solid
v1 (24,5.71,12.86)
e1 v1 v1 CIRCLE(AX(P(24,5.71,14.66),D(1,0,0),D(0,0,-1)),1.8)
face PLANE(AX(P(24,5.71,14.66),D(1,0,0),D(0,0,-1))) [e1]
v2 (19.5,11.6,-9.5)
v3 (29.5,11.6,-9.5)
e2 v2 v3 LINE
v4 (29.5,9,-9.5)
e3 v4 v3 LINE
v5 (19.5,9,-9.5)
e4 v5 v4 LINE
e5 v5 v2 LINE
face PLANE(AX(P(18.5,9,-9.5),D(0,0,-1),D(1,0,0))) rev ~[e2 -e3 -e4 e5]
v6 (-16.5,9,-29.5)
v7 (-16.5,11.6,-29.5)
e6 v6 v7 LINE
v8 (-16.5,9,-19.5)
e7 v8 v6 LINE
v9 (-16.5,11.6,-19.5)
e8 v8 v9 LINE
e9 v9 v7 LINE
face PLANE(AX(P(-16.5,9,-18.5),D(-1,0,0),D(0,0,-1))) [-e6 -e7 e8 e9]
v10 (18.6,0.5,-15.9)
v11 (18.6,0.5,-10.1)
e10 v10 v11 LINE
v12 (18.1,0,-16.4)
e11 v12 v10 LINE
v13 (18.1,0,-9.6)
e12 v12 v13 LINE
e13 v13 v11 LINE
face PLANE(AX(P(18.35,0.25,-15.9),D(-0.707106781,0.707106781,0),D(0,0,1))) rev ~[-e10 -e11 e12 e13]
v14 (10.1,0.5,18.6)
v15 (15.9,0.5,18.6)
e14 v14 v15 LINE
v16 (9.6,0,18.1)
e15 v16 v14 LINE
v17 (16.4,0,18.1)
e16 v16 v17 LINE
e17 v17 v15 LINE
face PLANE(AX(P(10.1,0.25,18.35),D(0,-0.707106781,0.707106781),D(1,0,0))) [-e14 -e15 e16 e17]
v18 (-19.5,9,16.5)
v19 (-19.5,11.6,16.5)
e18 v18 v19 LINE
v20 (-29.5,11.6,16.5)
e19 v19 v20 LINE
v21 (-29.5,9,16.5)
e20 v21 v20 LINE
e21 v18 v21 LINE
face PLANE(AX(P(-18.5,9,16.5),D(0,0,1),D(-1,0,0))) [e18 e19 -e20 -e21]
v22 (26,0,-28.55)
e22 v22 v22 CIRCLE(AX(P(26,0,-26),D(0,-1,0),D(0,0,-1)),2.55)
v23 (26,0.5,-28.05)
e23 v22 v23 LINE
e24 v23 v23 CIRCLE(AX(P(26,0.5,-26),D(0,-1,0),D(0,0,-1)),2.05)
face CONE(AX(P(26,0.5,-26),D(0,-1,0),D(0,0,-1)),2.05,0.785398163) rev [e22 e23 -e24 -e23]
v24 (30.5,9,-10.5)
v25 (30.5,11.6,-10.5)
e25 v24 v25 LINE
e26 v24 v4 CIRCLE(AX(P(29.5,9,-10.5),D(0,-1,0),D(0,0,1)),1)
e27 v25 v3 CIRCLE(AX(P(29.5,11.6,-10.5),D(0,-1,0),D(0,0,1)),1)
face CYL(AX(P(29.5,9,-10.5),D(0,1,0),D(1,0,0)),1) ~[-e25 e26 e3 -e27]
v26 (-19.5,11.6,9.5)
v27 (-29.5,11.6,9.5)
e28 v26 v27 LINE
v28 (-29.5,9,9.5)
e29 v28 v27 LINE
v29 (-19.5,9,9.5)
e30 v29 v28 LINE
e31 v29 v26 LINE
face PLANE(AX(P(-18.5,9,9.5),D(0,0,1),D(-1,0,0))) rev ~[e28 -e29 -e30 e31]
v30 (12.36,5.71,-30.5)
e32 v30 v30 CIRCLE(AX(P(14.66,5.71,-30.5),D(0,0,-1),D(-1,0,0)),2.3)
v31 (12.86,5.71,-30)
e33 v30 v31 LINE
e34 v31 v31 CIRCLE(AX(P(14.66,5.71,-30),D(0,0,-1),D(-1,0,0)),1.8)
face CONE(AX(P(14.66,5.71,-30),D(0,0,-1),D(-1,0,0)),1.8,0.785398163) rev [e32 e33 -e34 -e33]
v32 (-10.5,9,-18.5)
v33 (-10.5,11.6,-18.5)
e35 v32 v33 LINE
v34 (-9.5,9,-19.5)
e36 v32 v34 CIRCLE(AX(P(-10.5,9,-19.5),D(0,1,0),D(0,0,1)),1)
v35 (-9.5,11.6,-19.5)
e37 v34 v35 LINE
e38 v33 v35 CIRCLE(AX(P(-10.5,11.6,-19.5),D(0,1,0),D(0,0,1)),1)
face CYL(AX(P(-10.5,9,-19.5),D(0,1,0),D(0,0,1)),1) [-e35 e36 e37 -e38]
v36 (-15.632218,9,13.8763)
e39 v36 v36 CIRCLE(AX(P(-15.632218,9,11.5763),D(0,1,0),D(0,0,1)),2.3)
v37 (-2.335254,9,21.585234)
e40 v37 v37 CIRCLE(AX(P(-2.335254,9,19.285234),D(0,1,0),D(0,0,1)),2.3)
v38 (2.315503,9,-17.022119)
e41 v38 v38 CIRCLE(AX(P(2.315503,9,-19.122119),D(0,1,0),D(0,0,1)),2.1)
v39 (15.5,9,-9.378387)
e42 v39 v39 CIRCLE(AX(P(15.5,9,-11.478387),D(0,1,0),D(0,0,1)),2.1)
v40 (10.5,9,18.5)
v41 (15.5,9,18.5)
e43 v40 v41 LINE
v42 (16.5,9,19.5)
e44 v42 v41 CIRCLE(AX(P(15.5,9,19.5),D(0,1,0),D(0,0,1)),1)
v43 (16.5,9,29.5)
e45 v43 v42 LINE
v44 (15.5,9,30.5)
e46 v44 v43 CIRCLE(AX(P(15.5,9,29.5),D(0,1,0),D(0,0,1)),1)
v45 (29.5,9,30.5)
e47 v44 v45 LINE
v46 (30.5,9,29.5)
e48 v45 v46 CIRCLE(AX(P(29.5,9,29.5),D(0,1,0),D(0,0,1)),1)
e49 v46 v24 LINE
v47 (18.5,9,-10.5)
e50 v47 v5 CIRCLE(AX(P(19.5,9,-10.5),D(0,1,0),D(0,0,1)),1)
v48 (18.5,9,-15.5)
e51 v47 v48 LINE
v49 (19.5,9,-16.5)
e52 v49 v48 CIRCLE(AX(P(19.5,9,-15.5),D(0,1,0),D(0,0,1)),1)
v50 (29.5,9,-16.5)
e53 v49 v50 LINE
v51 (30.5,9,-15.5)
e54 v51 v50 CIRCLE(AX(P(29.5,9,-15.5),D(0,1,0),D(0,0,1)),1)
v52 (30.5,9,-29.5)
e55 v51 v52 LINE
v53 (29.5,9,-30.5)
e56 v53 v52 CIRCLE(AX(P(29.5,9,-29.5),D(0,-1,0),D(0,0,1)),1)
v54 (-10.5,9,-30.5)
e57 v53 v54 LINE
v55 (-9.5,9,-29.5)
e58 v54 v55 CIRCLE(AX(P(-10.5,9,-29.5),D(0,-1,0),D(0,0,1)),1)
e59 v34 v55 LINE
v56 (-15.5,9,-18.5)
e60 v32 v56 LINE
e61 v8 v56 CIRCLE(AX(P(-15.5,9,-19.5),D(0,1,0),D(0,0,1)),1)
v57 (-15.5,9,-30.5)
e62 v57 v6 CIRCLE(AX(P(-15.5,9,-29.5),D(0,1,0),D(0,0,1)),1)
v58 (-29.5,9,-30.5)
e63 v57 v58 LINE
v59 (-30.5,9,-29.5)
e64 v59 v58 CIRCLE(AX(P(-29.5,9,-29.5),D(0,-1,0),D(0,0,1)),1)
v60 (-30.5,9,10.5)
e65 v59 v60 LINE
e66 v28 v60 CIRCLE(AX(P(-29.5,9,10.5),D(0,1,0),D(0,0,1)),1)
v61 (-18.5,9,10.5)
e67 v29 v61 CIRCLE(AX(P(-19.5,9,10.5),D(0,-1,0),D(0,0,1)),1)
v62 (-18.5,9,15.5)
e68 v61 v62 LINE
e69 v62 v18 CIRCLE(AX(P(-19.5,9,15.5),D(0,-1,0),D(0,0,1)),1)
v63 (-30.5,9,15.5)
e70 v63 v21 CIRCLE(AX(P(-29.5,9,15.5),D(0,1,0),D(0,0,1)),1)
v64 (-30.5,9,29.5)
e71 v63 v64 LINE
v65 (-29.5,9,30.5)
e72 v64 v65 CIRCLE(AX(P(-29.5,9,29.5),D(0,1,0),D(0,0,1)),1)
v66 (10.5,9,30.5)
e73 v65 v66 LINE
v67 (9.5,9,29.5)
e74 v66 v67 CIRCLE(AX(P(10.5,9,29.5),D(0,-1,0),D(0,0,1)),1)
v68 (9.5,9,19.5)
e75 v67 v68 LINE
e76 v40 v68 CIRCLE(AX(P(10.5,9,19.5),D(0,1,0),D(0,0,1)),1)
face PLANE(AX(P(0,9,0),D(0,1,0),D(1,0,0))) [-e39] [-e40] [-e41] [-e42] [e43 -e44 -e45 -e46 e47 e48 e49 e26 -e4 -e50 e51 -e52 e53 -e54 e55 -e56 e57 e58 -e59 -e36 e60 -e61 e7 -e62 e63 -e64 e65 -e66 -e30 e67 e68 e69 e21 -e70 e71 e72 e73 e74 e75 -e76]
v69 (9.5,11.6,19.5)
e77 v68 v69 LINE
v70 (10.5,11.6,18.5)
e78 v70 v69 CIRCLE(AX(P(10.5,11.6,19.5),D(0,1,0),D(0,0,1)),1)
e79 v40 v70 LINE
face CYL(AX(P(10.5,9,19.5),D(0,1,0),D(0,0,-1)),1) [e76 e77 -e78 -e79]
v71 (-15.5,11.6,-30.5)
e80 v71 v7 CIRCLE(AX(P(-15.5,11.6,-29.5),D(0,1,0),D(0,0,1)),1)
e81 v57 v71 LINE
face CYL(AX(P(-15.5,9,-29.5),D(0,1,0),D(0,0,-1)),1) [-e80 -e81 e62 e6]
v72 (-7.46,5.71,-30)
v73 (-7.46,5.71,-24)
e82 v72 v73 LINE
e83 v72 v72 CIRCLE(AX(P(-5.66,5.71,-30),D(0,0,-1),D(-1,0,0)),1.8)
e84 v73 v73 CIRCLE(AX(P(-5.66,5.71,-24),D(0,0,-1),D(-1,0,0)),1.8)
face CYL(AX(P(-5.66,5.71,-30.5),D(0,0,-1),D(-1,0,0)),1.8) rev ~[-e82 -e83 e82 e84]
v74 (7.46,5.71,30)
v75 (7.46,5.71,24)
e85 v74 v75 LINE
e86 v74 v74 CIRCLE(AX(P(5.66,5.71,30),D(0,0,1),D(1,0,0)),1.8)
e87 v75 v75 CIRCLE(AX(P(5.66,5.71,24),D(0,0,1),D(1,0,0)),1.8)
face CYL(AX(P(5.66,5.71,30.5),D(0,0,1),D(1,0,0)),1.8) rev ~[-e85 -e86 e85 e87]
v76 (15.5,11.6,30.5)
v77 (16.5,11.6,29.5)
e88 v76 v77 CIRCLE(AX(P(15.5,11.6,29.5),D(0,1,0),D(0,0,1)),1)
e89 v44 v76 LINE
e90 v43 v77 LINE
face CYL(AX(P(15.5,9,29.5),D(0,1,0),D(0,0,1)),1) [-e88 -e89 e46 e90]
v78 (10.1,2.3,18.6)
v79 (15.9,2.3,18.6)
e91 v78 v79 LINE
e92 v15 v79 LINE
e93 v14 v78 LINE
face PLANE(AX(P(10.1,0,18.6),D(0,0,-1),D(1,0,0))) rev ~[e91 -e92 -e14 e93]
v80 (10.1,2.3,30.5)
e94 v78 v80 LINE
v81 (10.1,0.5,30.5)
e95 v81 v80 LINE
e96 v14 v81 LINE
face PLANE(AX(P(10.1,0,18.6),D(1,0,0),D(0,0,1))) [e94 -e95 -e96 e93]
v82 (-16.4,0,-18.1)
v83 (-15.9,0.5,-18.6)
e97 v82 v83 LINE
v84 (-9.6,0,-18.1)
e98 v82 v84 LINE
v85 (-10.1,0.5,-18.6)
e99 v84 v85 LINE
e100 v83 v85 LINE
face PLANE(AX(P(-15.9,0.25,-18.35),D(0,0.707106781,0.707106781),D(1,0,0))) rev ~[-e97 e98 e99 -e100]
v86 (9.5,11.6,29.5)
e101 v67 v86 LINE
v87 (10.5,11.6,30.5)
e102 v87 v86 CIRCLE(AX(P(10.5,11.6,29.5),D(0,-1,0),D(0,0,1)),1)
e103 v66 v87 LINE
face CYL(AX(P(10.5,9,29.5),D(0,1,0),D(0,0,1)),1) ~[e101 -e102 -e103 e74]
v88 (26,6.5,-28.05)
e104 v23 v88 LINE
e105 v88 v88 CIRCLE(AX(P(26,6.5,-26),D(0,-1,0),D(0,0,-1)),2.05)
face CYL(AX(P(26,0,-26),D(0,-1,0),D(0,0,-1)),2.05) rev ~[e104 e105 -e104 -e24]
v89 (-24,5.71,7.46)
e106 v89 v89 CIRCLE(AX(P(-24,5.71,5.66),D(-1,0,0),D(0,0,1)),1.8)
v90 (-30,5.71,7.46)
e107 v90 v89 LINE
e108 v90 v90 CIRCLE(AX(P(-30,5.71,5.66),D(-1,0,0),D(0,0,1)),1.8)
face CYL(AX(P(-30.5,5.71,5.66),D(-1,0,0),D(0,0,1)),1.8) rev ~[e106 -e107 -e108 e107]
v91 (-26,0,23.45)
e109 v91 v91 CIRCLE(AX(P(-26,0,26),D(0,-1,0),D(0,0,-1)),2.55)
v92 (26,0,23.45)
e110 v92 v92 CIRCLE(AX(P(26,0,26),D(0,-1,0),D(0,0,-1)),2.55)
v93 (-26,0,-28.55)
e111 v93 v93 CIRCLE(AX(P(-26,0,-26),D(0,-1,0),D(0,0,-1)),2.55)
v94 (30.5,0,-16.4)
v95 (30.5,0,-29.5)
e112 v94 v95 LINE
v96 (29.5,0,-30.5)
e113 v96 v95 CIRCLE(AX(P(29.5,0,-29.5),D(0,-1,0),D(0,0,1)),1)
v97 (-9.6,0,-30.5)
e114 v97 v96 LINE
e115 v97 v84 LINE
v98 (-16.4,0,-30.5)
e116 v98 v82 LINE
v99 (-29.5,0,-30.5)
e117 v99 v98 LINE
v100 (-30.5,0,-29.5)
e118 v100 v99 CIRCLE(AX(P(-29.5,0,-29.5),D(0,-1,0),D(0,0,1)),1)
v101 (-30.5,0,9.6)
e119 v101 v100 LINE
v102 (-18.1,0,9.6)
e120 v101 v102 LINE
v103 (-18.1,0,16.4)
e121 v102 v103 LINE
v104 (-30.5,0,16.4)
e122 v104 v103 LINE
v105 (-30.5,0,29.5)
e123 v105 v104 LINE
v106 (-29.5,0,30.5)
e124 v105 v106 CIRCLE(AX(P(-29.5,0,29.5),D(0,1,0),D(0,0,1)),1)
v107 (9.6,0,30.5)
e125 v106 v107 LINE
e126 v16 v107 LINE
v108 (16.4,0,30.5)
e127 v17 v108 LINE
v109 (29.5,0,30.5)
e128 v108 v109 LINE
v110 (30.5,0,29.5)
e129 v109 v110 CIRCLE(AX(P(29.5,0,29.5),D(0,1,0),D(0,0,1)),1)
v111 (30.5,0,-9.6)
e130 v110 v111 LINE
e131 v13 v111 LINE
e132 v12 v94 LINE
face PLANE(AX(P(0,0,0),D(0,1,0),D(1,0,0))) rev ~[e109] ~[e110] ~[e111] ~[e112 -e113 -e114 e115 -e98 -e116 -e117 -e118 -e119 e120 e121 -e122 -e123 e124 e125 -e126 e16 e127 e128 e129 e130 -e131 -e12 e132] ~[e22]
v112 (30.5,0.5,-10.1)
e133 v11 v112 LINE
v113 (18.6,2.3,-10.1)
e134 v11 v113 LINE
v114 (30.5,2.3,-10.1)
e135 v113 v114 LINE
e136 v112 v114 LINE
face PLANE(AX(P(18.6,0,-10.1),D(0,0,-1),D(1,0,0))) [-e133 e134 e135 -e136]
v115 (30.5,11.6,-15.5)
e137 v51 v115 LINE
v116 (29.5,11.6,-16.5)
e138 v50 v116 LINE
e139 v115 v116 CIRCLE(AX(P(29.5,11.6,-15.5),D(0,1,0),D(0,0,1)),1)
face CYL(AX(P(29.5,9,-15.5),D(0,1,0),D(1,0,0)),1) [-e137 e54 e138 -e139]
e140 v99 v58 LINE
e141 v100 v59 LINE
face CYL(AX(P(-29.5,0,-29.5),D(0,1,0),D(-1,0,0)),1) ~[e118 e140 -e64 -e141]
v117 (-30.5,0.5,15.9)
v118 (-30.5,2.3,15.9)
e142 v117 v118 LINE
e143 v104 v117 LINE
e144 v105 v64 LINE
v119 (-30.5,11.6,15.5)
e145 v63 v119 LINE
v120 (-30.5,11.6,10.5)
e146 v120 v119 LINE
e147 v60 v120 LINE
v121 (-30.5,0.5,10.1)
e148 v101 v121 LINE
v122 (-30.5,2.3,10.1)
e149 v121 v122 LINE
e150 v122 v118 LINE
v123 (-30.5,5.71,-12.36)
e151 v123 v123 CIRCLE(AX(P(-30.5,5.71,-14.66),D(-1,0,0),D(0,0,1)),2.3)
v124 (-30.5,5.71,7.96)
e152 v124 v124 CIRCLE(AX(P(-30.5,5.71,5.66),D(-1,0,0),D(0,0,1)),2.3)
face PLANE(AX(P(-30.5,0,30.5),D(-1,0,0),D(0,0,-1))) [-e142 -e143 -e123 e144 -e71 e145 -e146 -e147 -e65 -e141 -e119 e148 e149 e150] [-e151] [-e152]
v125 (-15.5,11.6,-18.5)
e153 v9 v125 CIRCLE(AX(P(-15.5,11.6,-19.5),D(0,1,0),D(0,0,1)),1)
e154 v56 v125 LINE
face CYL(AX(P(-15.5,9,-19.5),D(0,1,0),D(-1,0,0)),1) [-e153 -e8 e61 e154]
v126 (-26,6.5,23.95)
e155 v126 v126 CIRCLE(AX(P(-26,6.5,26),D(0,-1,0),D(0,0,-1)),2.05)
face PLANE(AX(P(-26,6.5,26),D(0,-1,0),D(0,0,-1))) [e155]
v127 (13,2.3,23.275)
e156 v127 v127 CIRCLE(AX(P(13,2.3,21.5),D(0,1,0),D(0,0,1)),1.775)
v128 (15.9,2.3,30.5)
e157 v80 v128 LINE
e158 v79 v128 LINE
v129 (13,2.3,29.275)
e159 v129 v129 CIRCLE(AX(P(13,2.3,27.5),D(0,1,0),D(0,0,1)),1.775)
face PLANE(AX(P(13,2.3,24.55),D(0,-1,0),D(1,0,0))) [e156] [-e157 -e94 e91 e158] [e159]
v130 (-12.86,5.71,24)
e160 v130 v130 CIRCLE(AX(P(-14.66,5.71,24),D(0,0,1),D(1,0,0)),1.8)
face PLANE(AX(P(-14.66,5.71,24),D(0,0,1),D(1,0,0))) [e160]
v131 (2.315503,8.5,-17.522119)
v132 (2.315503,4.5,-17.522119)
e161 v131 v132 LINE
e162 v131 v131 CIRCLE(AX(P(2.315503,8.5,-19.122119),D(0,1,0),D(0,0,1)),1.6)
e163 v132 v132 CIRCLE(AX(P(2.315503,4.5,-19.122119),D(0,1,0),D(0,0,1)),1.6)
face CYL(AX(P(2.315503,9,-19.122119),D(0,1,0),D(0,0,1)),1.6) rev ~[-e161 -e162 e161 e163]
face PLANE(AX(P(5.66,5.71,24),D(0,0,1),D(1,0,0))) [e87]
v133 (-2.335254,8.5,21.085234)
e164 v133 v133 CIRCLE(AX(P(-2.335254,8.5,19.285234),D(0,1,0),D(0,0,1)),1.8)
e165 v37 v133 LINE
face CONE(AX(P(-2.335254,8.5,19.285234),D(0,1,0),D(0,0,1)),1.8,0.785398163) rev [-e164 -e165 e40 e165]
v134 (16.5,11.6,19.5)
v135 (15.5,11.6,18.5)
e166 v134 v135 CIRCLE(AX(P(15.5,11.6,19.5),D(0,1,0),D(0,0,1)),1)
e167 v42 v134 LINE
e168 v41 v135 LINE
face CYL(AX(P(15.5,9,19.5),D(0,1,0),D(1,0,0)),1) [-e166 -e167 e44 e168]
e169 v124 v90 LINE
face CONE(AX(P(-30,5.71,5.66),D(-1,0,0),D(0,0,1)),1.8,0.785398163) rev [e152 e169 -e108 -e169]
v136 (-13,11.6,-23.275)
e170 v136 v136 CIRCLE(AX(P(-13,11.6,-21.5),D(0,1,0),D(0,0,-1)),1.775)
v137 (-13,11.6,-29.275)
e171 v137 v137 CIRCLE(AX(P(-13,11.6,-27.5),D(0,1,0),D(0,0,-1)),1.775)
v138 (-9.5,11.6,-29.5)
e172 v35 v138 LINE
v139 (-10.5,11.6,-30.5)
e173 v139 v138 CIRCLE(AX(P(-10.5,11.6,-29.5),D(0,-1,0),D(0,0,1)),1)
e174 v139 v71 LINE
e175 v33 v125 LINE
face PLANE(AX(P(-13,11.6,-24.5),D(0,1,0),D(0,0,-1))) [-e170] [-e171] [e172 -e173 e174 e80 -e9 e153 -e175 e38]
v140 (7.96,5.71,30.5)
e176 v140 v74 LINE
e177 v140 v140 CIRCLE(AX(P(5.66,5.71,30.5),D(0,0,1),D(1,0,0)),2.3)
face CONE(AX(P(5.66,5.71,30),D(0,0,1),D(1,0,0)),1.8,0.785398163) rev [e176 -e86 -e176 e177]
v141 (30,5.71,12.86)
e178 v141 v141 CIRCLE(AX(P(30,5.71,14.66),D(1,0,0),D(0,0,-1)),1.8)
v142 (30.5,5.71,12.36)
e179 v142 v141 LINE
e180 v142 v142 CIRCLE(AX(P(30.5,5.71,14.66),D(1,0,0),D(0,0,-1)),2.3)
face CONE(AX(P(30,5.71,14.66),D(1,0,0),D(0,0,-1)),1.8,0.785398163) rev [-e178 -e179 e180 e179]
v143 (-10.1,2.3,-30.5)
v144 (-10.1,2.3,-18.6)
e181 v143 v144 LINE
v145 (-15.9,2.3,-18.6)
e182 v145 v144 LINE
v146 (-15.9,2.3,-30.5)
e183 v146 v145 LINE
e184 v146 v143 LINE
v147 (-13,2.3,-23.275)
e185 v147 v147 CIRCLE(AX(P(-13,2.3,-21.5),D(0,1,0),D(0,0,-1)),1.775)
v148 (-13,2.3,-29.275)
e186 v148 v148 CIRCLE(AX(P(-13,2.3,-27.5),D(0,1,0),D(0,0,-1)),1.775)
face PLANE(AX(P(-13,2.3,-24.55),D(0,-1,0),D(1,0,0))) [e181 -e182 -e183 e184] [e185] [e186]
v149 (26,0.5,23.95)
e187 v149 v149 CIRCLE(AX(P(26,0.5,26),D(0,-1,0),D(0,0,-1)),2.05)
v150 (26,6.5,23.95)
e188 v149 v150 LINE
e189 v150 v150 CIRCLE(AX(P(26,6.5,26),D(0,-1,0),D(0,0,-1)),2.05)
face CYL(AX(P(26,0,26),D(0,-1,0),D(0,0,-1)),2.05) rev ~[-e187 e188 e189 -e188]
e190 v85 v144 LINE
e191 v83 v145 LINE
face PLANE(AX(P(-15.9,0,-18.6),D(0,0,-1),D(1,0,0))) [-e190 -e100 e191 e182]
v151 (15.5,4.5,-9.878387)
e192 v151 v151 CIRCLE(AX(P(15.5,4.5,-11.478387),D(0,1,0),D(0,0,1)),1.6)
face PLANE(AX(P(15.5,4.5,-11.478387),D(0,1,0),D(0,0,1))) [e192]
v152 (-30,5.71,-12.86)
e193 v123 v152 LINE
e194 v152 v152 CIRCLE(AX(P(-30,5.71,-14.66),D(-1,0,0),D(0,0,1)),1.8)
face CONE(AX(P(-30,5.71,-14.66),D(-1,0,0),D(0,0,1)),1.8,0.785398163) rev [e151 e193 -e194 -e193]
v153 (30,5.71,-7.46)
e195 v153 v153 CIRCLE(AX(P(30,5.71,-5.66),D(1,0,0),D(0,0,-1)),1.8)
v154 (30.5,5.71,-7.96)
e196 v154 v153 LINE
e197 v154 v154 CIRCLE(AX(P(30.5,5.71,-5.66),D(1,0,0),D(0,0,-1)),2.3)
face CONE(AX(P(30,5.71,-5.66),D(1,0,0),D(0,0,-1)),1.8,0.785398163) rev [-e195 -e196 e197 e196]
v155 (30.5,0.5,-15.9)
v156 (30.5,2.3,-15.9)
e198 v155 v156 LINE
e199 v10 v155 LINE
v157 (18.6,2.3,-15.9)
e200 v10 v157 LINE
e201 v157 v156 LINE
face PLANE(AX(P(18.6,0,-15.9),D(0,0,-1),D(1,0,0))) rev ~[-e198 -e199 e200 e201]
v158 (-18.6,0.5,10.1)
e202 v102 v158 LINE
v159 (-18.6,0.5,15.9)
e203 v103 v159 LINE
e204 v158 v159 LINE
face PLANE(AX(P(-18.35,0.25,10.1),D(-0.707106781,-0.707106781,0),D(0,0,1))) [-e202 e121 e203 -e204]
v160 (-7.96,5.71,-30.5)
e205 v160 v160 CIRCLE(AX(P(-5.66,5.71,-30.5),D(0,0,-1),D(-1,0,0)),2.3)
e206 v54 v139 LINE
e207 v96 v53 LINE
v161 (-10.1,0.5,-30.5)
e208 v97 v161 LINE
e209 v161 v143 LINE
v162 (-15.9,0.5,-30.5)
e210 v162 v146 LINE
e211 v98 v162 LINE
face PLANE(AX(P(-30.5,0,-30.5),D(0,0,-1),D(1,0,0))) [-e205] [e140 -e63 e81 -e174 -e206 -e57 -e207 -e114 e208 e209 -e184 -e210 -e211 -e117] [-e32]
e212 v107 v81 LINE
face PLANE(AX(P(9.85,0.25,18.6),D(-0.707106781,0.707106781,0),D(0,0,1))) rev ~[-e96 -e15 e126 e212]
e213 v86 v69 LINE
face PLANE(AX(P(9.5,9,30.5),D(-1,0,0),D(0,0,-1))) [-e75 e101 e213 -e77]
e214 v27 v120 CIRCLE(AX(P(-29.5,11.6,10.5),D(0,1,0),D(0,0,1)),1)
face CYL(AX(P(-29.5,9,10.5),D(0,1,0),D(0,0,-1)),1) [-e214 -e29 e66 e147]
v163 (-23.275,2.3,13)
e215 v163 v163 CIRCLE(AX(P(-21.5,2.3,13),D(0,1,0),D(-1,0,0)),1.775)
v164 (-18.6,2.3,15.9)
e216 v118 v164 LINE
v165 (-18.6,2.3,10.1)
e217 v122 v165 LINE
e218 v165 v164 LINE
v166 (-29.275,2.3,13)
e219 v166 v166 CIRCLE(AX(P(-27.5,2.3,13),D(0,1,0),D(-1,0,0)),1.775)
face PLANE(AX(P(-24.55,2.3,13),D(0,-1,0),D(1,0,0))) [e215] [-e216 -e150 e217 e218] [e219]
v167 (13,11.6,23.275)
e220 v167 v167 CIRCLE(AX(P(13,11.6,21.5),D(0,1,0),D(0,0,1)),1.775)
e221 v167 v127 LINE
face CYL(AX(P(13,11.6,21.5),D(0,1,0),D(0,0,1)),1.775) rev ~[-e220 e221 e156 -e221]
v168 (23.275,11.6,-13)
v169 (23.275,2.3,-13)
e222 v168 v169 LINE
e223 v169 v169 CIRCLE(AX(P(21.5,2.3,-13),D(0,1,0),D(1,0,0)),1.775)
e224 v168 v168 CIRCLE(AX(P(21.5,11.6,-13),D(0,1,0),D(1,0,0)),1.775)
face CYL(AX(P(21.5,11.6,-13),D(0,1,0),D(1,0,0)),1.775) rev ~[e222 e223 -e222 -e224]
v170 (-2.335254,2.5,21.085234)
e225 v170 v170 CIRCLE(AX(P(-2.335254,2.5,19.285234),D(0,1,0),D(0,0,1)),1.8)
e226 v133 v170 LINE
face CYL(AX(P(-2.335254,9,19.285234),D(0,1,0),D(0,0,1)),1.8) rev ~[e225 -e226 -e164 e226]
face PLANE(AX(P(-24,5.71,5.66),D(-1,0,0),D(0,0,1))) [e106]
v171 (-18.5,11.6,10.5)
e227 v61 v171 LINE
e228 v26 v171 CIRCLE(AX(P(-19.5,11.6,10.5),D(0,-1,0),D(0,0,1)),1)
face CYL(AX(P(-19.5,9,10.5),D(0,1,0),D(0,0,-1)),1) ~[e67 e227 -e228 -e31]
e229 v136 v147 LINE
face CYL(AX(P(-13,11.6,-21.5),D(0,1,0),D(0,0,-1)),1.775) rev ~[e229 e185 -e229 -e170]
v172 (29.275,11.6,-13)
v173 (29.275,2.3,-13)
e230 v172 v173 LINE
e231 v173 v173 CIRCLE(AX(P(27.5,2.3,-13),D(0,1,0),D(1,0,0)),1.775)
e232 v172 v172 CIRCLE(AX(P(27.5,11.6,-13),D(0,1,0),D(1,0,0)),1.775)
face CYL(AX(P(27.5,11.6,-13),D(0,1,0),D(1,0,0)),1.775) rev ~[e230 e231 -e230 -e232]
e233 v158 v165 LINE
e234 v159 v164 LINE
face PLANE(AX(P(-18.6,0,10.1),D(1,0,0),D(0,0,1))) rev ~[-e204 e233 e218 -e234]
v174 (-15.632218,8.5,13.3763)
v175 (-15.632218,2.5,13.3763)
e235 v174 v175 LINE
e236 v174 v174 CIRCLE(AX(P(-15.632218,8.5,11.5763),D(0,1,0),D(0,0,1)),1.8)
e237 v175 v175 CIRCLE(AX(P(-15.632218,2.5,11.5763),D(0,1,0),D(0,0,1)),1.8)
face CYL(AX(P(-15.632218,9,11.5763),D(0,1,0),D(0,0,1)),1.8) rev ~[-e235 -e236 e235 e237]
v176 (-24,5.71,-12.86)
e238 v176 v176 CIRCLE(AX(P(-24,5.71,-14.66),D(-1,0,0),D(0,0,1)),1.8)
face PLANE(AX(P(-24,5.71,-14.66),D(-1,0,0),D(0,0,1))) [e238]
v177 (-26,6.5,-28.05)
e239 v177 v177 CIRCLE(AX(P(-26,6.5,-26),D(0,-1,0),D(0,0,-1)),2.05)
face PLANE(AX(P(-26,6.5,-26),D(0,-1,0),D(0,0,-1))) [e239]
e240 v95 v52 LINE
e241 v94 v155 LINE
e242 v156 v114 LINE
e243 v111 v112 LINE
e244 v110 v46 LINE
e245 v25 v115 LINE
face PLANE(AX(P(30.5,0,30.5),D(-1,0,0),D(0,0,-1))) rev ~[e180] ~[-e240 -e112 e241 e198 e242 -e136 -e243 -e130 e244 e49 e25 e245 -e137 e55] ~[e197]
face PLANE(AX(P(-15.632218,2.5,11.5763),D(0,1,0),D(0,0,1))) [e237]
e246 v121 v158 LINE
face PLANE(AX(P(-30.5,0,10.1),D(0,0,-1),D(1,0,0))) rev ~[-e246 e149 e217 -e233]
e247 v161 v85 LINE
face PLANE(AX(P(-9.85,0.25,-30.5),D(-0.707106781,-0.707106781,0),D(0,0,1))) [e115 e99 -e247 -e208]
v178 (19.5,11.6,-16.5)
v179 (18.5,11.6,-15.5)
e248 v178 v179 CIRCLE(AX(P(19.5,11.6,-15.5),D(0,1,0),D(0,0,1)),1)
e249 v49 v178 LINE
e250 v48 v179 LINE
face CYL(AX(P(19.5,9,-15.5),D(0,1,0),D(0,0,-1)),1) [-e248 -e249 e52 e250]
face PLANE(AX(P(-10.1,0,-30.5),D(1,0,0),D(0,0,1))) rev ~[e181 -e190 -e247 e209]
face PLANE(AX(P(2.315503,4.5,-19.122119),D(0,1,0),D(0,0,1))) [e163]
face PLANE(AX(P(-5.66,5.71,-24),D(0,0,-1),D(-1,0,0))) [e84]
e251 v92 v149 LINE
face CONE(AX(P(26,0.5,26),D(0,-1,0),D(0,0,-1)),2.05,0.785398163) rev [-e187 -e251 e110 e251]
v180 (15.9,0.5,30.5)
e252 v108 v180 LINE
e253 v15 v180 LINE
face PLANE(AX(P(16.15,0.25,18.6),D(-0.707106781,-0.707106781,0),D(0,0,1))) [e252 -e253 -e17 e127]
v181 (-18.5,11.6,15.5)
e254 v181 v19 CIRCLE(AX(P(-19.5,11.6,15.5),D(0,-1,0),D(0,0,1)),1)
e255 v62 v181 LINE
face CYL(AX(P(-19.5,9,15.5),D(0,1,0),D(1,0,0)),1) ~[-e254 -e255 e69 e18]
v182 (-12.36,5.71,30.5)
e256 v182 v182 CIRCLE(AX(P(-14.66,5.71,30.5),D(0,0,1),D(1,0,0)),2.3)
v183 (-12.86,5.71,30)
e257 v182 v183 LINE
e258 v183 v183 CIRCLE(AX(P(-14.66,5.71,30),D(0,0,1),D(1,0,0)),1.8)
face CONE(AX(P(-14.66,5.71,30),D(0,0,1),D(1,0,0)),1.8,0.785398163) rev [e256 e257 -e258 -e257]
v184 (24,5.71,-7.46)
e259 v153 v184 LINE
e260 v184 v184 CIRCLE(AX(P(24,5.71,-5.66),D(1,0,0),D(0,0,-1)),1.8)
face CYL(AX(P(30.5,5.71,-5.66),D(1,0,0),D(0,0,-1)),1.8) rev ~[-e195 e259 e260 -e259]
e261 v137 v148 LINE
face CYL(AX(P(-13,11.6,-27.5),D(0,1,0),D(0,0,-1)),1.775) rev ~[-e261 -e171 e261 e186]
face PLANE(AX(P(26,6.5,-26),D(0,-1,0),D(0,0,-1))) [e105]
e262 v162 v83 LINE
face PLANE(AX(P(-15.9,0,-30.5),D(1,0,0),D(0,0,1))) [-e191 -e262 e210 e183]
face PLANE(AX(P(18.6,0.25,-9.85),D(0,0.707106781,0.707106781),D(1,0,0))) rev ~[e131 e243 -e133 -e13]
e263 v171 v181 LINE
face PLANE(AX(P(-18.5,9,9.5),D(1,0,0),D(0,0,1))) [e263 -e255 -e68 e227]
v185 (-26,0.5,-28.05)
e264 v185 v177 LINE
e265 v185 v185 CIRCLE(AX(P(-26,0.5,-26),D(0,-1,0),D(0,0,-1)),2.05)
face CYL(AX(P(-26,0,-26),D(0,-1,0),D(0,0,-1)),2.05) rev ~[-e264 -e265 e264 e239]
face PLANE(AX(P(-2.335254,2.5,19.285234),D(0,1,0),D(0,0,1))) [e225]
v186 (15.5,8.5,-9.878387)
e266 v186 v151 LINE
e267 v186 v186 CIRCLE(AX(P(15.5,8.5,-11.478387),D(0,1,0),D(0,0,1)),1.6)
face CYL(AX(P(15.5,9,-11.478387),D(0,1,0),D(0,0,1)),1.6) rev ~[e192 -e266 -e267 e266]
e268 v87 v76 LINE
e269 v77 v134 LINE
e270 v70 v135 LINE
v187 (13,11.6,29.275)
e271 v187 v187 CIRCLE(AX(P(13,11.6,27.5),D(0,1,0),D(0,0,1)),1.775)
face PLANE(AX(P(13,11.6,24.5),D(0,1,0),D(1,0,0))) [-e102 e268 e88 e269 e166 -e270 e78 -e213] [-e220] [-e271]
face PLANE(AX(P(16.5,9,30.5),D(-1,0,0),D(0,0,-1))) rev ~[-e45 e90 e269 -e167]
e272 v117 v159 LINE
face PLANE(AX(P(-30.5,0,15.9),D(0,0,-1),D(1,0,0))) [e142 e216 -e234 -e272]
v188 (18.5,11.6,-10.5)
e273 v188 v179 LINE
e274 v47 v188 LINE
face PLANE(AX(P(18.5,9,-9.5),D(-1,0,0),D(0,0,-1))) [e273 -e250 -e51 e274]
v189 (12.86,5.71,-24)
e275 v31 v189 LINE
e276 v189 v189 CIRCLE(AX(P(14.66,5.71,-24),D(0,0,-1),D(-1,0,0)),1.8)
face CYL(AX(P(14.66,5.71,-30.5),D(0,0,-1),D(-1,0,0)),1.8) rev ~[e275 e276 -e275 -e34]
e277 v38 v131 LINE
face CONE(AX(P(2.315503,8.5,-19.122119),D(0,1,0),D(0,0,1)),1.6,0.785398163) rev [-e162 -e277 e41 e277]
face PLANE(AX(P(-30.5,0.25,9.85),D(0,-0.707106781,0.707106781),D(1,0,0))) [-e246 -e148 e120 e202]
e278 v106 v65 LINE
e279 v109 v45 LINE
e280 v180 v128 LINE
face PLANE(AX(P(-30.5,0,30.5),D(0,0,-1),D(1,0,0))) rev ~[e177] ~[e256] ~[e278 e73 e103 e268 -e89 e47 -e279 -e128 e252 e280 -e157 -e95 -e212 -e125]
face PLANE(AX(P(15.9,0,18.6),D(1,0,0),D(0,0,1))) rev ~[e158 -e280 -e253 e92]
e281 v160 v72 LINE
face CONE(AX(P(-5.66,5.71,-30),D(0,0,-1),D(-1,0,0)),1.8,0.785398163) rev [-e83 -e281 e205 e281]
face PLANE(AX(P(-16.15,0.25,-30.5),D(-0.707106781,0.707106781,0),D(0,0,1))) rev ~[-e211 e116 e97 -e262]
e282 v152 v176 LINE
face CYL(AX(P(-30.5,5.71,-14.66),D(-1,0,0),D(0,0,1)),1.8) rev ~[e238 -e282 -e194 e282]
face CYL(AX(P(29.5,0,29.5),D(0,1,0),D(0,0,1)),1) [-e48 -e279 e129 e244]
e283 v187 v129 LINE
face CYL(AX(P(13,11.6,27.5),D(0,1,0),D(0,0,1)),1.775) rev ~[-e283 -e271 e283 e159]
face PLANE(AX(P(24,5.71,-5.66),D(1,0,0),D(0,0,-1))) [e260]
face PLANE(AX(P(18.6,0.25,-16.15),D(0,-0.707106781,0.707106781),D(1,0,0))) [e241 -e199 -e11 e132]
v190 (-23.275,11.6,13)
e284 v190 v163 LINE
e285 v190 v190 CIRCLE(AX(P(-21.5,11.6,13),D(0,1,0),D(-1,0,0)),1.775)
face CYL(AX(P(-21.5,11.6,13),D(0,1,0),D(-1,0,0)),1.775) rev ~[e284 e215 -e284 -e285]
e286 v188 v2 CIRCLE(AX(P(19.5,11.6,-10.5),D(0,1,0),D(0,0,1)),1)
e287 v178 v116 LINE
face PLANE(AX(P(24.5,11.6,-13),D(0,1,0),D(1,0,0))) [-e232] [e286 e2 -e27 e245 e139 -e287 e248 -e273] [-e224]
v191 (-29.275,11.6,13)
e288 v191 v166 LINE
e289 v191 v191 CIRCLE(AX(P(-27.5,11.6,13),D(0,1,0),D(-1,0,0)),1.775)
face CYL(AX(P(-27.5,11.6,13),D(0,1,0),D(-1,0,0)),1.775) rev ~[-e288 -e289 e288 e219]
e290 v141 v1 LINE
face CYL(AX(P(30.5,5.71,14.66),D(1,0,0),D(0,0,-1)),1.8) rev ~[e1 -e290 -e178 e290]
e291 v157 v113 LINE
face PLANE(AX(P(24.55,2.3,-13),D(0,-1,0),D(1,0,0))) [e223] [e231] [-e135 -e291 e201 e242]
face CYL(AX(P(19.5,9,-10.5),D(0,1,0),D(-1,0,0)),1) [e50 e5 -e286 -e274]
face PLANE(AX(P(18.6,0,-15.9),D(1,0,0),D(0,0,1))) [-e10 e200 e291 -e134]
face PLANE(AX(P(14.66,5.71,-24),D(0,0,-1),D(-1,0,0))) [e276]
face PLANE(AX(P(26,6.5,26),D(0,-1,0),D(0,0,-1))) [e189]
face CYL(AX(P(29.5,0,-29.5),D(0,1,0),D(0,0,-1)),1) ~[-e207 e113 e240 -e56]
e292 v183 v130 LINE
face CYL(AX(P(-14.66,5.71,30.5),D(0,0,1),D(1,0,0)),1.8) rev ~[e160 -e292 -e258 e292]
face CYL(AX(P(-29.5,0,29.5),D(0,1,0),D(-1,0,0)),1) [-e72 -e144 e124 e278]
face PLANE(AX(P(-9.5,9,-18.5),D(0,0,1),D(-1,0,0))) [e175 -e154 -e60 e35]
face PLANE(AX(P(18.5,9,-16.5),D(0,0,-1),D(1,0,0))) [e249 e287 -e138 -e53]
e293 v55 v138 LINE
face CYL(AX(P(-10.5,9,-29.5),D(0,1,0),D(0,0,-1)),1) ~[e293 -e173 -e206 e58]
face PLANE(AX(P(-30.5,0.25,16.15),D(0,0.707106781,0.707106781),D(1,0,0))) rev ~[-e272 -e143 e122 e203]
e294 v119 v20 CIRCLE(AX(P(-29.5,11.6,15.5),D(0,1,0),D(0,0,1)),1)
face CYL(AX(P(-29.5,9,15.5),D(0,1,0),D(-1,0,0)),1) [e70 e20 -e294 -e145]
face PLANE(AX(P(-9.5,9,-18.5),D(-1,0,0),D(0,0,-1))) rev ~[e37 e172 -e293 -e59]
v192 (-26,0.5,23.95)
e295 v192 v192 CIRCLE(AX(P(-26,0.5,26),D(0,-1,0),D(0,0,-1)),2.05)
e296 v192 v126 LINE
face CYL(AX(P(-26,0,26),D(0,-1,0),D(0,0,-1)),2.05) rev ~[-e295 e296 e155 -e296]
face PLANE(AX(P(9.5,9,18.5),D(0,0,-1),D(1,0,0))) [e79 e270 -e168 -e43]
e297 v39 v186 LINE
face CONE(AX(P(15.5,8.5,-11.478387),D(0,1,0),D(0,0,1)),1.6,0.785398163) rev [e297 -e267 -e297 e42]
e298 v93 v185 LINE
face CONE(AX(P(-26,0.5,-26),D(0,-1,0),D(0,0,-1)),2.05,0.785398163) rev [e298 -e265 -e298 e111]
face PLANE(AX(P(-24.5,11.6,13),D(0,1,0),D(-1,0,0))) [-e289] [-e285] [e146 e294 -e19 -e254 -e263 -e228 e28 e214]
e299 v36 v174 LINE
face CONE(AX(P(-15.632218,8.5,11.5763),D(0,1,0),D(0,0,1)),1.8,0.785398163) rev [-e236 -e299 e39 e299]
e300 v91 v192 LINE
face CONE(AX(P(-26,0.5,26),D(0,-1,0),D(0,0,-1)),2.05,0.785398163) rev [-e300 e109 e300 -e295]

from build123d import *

# Parameters (mm, degrees)
SKETCH1_W           = 61
SKETCH1_H           = 61
BOSS_EXTRUDE2_DEPTH = 9
SKETCH6_W           = 7
SKETCH6_H           = 12
SKETCH6_W_2         = 12
SKETCH6_H_2         = 7
BOSS_EXTRUDE4_DEPTH = 2.6
CIRPATTERN3_COUNT   = 4
SKETCH8_R           = 1.775
CUT_EXTRUDE3_DEPTH  = 45.666094524
CIRPATTERN4_COUNT   = 4
SKETCH10_W          = 11.9
SKETCH10_H          = 5.8
SKETCH10_W_2        = 5.8
SKETCH10_H_2        = 11.9
CUT_EXTRUDE6_DEPTH  = 2.3
SKETCH12_R          = 2.05
CUT_EXTRUDE8_DEPTH  = 6.5
FILLET1_R           = 1
SKETCH14_R          = 1.8
CUT_EXTRUDE10_DEPTH = 6.5
CIRPATTERN5_COUNT   = 4
CHAMFER1_SIZE       = 0.5
SKETCH16_R          = 1.8
CUT_EXTRUDE11_DEPTH = 6.5
SKETCH18_R          = 1.6
CUT_EXTRUDE12_DEPTH = 4.5
CHAMFER2_SIZE       = 0.5


with BuildPart() as part:
    # Sketch1 → Boss-Extrude2 (new body)
    with BuildSketch(Plane(origin=(0, 0, 0), x_dir=(1, 0, 0), z_dir=(0, 1, 0))):
        Rectangle(SKETCH1_W, SKETCH1_H)
    extrude(amount=BOSS_EXTRUDE2_DEPTH)

    # Sketch6 → Boss-Extrude4 (add)
    with BuildSketch(Plane(origin=(0, 9, 0), x_dir=(1, 0, 0), z_dir=(0, 1, 0))):
        with Locations((13, -24.5)):
            Rectangle(SKETCH6_W, SKETCH6_H)
        with Locations((24.5, 13)):
            Rectangle(SKETCH6_W_2, SKETCH6_H_2)
    boss_extrude4 = extrude(amount=BOSS_EXTRUDE4_DEPTH)

    # CirPattern3: Boss-Extrude4 ×4 about axis
    cirpattern3_axis = Axis((0, 0, 0), (0, 1, 0))
    for i in range(1, CIRPATTERN3_COUNT):
        add(boss_extrude4.rotate(cirpattern3_axis, i * 360 / CIRPATTERN3_COUNT))

    # Sketch8 → Cut-Extrude3 (cut, through all)
    with BuildSketch(Plane(origin=(0, 11.6, 0), x_dir=(1, 0, 0), z_dir=(0, 1, 0))):
        with Locations(Location((13, -21.5, 0), (0, 0, 270))):
            Circle(SKETCH8_R)
        with Locations(Location((13, -27.5, 0), (0, 0, 270))):
            Circle(SKETCH8_R)
    cut_extrude3 = extrude(amount=-CUT_EXTRUDE3_DEPTH, mode=Mode.SUBTRACT)

    # CirPattern4: Cut-Extrude3 ×4 about axis
    cirpattern4_axis = Axis((0, 0, 0), (0, 1, 0))
    for i in range(1, CIRPATTERN4_COUNT):
        add(cut_extrude3.rotate(cirpattern4_axis, i * 360 / CIRPATTERN4_COUNT), mode=Mode.SUBTRACT)

    # Sketch10 → Cut-Extrude6 (cut)
    with BuildSketch(Plane.XZ):
        with Locations((-24.55, 13)):
            Rectangle(SKETCH10_W, SKETCH10_H)
        with Locations((13, 24.55)):
            Rectangle(SKETCH10_W_2, SKETCH10_H_2)
        with Locations((24.55, -13)):
            Rectangle(SKETCH10_W, SKETCH10_H)
        with Locations((-13, -24.55)):
            Rectangle(SKETCH10_W_2, SKETCH10_H_2)
    extrude(amount=-CUT_EXTRUDE6_DEPTH, mode=Mode.SUBTRACT)

    # Sketch12 → Cut-Extrude8 (cut)
    with BuildSketch(Plane.XZ):
        with Locations(Location((-26, 26, 0), (0, 0, 270))):
            Circle(SKETCH12_R)
        with Locations(Location((26, 26, 0), (0, 0, 270))):
            Circle(SKETCH12_R)
        with Locations(Location((-26, -26, 0), (0, 0, 270))):
            Circle(SKETCH12_R)
        with Locations(Location((26, -26, 0), (0, 0, 270))):
            Circle(SKETCH12_R)
    extrude(amount=-CUT_EXTRUDE8_DEPTH, mode=Mode.SUBTRACT)

    # Fillet1
    fillet1_edges = [part.edges().sort_by_distance(p)[0] for p in [
        (30.5, 10.3, -9.5),
        (30.5, 10.3, -16.5),
        (18.5, 10.3, -16.5),
        (18.5, 10.3, -9.5),
        (9.5, 10.3, 18.5),
        (9.5, 10.3, 30.5),
        (16.5, 10.3, 30.5),
        (16.5, 10.3, 18.5),
        (-18.5, 10.3, 9.5),
        (-30.5, 10.3, 9.5),
        (-30.5, 10.3, 16.5),
        (-18.5, 10.3, 16.5),
        (-9.5, 10.3, -18.5),
        (-9.5, 10.3, -30.5),
        (-16.5, 10.3, -30.5),
        (-16.5, 10.3, -18.5),
        (-30.5, 4.5, -30.5),
        (30.5, 4.5, -30.5),
        (30.5, 4.5, 30.5),
        (-30.5, 4.5, 30.5),
    ]]
    fillet(fillet1_edges, radius=FILLET1_R)

    # Sketch14 → Cut-Extrude10 (cut)
    with BuildSketch(Plane.XY.offset(30.5)):
        with Locations((-14.66, 5.71)):
            Circle(SKETCH14_R)
        with Locations((5.66, 5.71)):
            Circle(SKETCH14_R)
    cut_extrude10 = extrude(amount=-CUT_EXTRUDE10_DEPTH, mode=Mode.SUBTRACT)

    # CirPattern5: Cut-Extrude10 ×4 about axis
    cirpattern5_axis = Axis((0, 0, 0), (0, 1, 0))
    for i in range(1, CIRPATTERN5_COUNT):
        add(cut_extrude10.rotate(cirpattern5_axis, i * 360 / CIRPATTERN5_COUNT), mode=Mode.SUBTRACT)

    # Chamfer1
    chamfer1_edges = [part.edges().sort_by_distance(p)[0] for p in [
        (-24.55, 0, 10.1),
        (-18.6, 0, 13),
        (-24.55, 0, 15.9),
        (10.1, 0, 24.55),
        (13, 0, 18.6),
        (15.9, 0, 24.55),
        (24.55, 0, -10.1),
        (18.6, 0, -13),
        (24.55, 0, -15.9),
        (-10.1, 0, -24.55),
        (-13, 0, -18.6),
        (-15.9, 0, -24.55),
        (-26, 0, 28.05),
        (-26, 0, -23.95),
        (26, 0, -23.95),
        (26, 0, 28.05),
        (-16.46, 5.71, 30.5),
        (3.86, 5.71, 30.5),
        (30.5, 5.71, 16.46),
        (30.5, 5.71, -3.86),
        (16.46, 5.71, -30.5),
        (-3.86, 5.71, -30.5),
        (-30.5, 5.71, -16.46),
        (-30.5, 5.71, 3.86),
    ]]
    chamfer(chamfer1_edges, length=CHAMFER1_SIZE)

    # Sketch16 → Cut-Extrude11 (cut)
    with BuildSketch(Plane(origin=(0, 9, 0), x_dir=(1, 0, 0), z_dir=(0, 1, 0))):
        with Locations(Location((-15.632217848, -11.576300085, 0), (0, 0, 270))):
            Circle(SKETCH16_R)
        with Locations(Location((-2.335254394, -19.285234053, 0), (0, 0, 270))):
            Circle(SKETCH16_R)
    extrude(amount=-CUT_EXTRUDE11_DEPTH, mode=Mode.SUBTRACT)

    # Sketch18 → Cut-Extrude12 (cut)
    with BuildSketch(Plane(origin=(0, 9, 0), x_dir=(1, 0, 0), z_dir=(0, 1, 0))):
        with Locations(Location((15.5, 11.478387332, 0), (0, 0, 270))):
            Circle(SKETCH18_R)
        with Locations(Location((2.315502731, 19.122118865, 0), (0, 0, 270))):
            Circle(SKETCH18_R)
    extrude(amount=-CUT_EXTRUDE12_DEPTH, mode=Mode.SUBTRACT)

    # Chamfer2
    chamfer2_edges = [part.edges().sort_by_distance(p)[0] for p in [
        (-15.632217848, 9, 9.776300085),
        (-2.335254394, 9, 17.485234053),
        (15.5, 9, -13.078387332),
        (2.315502731, 9, -20.722118865),
    ]]
    chamfer(chamfer2_edges, length=CHAMFER2_SIZE)


solid = part.part
